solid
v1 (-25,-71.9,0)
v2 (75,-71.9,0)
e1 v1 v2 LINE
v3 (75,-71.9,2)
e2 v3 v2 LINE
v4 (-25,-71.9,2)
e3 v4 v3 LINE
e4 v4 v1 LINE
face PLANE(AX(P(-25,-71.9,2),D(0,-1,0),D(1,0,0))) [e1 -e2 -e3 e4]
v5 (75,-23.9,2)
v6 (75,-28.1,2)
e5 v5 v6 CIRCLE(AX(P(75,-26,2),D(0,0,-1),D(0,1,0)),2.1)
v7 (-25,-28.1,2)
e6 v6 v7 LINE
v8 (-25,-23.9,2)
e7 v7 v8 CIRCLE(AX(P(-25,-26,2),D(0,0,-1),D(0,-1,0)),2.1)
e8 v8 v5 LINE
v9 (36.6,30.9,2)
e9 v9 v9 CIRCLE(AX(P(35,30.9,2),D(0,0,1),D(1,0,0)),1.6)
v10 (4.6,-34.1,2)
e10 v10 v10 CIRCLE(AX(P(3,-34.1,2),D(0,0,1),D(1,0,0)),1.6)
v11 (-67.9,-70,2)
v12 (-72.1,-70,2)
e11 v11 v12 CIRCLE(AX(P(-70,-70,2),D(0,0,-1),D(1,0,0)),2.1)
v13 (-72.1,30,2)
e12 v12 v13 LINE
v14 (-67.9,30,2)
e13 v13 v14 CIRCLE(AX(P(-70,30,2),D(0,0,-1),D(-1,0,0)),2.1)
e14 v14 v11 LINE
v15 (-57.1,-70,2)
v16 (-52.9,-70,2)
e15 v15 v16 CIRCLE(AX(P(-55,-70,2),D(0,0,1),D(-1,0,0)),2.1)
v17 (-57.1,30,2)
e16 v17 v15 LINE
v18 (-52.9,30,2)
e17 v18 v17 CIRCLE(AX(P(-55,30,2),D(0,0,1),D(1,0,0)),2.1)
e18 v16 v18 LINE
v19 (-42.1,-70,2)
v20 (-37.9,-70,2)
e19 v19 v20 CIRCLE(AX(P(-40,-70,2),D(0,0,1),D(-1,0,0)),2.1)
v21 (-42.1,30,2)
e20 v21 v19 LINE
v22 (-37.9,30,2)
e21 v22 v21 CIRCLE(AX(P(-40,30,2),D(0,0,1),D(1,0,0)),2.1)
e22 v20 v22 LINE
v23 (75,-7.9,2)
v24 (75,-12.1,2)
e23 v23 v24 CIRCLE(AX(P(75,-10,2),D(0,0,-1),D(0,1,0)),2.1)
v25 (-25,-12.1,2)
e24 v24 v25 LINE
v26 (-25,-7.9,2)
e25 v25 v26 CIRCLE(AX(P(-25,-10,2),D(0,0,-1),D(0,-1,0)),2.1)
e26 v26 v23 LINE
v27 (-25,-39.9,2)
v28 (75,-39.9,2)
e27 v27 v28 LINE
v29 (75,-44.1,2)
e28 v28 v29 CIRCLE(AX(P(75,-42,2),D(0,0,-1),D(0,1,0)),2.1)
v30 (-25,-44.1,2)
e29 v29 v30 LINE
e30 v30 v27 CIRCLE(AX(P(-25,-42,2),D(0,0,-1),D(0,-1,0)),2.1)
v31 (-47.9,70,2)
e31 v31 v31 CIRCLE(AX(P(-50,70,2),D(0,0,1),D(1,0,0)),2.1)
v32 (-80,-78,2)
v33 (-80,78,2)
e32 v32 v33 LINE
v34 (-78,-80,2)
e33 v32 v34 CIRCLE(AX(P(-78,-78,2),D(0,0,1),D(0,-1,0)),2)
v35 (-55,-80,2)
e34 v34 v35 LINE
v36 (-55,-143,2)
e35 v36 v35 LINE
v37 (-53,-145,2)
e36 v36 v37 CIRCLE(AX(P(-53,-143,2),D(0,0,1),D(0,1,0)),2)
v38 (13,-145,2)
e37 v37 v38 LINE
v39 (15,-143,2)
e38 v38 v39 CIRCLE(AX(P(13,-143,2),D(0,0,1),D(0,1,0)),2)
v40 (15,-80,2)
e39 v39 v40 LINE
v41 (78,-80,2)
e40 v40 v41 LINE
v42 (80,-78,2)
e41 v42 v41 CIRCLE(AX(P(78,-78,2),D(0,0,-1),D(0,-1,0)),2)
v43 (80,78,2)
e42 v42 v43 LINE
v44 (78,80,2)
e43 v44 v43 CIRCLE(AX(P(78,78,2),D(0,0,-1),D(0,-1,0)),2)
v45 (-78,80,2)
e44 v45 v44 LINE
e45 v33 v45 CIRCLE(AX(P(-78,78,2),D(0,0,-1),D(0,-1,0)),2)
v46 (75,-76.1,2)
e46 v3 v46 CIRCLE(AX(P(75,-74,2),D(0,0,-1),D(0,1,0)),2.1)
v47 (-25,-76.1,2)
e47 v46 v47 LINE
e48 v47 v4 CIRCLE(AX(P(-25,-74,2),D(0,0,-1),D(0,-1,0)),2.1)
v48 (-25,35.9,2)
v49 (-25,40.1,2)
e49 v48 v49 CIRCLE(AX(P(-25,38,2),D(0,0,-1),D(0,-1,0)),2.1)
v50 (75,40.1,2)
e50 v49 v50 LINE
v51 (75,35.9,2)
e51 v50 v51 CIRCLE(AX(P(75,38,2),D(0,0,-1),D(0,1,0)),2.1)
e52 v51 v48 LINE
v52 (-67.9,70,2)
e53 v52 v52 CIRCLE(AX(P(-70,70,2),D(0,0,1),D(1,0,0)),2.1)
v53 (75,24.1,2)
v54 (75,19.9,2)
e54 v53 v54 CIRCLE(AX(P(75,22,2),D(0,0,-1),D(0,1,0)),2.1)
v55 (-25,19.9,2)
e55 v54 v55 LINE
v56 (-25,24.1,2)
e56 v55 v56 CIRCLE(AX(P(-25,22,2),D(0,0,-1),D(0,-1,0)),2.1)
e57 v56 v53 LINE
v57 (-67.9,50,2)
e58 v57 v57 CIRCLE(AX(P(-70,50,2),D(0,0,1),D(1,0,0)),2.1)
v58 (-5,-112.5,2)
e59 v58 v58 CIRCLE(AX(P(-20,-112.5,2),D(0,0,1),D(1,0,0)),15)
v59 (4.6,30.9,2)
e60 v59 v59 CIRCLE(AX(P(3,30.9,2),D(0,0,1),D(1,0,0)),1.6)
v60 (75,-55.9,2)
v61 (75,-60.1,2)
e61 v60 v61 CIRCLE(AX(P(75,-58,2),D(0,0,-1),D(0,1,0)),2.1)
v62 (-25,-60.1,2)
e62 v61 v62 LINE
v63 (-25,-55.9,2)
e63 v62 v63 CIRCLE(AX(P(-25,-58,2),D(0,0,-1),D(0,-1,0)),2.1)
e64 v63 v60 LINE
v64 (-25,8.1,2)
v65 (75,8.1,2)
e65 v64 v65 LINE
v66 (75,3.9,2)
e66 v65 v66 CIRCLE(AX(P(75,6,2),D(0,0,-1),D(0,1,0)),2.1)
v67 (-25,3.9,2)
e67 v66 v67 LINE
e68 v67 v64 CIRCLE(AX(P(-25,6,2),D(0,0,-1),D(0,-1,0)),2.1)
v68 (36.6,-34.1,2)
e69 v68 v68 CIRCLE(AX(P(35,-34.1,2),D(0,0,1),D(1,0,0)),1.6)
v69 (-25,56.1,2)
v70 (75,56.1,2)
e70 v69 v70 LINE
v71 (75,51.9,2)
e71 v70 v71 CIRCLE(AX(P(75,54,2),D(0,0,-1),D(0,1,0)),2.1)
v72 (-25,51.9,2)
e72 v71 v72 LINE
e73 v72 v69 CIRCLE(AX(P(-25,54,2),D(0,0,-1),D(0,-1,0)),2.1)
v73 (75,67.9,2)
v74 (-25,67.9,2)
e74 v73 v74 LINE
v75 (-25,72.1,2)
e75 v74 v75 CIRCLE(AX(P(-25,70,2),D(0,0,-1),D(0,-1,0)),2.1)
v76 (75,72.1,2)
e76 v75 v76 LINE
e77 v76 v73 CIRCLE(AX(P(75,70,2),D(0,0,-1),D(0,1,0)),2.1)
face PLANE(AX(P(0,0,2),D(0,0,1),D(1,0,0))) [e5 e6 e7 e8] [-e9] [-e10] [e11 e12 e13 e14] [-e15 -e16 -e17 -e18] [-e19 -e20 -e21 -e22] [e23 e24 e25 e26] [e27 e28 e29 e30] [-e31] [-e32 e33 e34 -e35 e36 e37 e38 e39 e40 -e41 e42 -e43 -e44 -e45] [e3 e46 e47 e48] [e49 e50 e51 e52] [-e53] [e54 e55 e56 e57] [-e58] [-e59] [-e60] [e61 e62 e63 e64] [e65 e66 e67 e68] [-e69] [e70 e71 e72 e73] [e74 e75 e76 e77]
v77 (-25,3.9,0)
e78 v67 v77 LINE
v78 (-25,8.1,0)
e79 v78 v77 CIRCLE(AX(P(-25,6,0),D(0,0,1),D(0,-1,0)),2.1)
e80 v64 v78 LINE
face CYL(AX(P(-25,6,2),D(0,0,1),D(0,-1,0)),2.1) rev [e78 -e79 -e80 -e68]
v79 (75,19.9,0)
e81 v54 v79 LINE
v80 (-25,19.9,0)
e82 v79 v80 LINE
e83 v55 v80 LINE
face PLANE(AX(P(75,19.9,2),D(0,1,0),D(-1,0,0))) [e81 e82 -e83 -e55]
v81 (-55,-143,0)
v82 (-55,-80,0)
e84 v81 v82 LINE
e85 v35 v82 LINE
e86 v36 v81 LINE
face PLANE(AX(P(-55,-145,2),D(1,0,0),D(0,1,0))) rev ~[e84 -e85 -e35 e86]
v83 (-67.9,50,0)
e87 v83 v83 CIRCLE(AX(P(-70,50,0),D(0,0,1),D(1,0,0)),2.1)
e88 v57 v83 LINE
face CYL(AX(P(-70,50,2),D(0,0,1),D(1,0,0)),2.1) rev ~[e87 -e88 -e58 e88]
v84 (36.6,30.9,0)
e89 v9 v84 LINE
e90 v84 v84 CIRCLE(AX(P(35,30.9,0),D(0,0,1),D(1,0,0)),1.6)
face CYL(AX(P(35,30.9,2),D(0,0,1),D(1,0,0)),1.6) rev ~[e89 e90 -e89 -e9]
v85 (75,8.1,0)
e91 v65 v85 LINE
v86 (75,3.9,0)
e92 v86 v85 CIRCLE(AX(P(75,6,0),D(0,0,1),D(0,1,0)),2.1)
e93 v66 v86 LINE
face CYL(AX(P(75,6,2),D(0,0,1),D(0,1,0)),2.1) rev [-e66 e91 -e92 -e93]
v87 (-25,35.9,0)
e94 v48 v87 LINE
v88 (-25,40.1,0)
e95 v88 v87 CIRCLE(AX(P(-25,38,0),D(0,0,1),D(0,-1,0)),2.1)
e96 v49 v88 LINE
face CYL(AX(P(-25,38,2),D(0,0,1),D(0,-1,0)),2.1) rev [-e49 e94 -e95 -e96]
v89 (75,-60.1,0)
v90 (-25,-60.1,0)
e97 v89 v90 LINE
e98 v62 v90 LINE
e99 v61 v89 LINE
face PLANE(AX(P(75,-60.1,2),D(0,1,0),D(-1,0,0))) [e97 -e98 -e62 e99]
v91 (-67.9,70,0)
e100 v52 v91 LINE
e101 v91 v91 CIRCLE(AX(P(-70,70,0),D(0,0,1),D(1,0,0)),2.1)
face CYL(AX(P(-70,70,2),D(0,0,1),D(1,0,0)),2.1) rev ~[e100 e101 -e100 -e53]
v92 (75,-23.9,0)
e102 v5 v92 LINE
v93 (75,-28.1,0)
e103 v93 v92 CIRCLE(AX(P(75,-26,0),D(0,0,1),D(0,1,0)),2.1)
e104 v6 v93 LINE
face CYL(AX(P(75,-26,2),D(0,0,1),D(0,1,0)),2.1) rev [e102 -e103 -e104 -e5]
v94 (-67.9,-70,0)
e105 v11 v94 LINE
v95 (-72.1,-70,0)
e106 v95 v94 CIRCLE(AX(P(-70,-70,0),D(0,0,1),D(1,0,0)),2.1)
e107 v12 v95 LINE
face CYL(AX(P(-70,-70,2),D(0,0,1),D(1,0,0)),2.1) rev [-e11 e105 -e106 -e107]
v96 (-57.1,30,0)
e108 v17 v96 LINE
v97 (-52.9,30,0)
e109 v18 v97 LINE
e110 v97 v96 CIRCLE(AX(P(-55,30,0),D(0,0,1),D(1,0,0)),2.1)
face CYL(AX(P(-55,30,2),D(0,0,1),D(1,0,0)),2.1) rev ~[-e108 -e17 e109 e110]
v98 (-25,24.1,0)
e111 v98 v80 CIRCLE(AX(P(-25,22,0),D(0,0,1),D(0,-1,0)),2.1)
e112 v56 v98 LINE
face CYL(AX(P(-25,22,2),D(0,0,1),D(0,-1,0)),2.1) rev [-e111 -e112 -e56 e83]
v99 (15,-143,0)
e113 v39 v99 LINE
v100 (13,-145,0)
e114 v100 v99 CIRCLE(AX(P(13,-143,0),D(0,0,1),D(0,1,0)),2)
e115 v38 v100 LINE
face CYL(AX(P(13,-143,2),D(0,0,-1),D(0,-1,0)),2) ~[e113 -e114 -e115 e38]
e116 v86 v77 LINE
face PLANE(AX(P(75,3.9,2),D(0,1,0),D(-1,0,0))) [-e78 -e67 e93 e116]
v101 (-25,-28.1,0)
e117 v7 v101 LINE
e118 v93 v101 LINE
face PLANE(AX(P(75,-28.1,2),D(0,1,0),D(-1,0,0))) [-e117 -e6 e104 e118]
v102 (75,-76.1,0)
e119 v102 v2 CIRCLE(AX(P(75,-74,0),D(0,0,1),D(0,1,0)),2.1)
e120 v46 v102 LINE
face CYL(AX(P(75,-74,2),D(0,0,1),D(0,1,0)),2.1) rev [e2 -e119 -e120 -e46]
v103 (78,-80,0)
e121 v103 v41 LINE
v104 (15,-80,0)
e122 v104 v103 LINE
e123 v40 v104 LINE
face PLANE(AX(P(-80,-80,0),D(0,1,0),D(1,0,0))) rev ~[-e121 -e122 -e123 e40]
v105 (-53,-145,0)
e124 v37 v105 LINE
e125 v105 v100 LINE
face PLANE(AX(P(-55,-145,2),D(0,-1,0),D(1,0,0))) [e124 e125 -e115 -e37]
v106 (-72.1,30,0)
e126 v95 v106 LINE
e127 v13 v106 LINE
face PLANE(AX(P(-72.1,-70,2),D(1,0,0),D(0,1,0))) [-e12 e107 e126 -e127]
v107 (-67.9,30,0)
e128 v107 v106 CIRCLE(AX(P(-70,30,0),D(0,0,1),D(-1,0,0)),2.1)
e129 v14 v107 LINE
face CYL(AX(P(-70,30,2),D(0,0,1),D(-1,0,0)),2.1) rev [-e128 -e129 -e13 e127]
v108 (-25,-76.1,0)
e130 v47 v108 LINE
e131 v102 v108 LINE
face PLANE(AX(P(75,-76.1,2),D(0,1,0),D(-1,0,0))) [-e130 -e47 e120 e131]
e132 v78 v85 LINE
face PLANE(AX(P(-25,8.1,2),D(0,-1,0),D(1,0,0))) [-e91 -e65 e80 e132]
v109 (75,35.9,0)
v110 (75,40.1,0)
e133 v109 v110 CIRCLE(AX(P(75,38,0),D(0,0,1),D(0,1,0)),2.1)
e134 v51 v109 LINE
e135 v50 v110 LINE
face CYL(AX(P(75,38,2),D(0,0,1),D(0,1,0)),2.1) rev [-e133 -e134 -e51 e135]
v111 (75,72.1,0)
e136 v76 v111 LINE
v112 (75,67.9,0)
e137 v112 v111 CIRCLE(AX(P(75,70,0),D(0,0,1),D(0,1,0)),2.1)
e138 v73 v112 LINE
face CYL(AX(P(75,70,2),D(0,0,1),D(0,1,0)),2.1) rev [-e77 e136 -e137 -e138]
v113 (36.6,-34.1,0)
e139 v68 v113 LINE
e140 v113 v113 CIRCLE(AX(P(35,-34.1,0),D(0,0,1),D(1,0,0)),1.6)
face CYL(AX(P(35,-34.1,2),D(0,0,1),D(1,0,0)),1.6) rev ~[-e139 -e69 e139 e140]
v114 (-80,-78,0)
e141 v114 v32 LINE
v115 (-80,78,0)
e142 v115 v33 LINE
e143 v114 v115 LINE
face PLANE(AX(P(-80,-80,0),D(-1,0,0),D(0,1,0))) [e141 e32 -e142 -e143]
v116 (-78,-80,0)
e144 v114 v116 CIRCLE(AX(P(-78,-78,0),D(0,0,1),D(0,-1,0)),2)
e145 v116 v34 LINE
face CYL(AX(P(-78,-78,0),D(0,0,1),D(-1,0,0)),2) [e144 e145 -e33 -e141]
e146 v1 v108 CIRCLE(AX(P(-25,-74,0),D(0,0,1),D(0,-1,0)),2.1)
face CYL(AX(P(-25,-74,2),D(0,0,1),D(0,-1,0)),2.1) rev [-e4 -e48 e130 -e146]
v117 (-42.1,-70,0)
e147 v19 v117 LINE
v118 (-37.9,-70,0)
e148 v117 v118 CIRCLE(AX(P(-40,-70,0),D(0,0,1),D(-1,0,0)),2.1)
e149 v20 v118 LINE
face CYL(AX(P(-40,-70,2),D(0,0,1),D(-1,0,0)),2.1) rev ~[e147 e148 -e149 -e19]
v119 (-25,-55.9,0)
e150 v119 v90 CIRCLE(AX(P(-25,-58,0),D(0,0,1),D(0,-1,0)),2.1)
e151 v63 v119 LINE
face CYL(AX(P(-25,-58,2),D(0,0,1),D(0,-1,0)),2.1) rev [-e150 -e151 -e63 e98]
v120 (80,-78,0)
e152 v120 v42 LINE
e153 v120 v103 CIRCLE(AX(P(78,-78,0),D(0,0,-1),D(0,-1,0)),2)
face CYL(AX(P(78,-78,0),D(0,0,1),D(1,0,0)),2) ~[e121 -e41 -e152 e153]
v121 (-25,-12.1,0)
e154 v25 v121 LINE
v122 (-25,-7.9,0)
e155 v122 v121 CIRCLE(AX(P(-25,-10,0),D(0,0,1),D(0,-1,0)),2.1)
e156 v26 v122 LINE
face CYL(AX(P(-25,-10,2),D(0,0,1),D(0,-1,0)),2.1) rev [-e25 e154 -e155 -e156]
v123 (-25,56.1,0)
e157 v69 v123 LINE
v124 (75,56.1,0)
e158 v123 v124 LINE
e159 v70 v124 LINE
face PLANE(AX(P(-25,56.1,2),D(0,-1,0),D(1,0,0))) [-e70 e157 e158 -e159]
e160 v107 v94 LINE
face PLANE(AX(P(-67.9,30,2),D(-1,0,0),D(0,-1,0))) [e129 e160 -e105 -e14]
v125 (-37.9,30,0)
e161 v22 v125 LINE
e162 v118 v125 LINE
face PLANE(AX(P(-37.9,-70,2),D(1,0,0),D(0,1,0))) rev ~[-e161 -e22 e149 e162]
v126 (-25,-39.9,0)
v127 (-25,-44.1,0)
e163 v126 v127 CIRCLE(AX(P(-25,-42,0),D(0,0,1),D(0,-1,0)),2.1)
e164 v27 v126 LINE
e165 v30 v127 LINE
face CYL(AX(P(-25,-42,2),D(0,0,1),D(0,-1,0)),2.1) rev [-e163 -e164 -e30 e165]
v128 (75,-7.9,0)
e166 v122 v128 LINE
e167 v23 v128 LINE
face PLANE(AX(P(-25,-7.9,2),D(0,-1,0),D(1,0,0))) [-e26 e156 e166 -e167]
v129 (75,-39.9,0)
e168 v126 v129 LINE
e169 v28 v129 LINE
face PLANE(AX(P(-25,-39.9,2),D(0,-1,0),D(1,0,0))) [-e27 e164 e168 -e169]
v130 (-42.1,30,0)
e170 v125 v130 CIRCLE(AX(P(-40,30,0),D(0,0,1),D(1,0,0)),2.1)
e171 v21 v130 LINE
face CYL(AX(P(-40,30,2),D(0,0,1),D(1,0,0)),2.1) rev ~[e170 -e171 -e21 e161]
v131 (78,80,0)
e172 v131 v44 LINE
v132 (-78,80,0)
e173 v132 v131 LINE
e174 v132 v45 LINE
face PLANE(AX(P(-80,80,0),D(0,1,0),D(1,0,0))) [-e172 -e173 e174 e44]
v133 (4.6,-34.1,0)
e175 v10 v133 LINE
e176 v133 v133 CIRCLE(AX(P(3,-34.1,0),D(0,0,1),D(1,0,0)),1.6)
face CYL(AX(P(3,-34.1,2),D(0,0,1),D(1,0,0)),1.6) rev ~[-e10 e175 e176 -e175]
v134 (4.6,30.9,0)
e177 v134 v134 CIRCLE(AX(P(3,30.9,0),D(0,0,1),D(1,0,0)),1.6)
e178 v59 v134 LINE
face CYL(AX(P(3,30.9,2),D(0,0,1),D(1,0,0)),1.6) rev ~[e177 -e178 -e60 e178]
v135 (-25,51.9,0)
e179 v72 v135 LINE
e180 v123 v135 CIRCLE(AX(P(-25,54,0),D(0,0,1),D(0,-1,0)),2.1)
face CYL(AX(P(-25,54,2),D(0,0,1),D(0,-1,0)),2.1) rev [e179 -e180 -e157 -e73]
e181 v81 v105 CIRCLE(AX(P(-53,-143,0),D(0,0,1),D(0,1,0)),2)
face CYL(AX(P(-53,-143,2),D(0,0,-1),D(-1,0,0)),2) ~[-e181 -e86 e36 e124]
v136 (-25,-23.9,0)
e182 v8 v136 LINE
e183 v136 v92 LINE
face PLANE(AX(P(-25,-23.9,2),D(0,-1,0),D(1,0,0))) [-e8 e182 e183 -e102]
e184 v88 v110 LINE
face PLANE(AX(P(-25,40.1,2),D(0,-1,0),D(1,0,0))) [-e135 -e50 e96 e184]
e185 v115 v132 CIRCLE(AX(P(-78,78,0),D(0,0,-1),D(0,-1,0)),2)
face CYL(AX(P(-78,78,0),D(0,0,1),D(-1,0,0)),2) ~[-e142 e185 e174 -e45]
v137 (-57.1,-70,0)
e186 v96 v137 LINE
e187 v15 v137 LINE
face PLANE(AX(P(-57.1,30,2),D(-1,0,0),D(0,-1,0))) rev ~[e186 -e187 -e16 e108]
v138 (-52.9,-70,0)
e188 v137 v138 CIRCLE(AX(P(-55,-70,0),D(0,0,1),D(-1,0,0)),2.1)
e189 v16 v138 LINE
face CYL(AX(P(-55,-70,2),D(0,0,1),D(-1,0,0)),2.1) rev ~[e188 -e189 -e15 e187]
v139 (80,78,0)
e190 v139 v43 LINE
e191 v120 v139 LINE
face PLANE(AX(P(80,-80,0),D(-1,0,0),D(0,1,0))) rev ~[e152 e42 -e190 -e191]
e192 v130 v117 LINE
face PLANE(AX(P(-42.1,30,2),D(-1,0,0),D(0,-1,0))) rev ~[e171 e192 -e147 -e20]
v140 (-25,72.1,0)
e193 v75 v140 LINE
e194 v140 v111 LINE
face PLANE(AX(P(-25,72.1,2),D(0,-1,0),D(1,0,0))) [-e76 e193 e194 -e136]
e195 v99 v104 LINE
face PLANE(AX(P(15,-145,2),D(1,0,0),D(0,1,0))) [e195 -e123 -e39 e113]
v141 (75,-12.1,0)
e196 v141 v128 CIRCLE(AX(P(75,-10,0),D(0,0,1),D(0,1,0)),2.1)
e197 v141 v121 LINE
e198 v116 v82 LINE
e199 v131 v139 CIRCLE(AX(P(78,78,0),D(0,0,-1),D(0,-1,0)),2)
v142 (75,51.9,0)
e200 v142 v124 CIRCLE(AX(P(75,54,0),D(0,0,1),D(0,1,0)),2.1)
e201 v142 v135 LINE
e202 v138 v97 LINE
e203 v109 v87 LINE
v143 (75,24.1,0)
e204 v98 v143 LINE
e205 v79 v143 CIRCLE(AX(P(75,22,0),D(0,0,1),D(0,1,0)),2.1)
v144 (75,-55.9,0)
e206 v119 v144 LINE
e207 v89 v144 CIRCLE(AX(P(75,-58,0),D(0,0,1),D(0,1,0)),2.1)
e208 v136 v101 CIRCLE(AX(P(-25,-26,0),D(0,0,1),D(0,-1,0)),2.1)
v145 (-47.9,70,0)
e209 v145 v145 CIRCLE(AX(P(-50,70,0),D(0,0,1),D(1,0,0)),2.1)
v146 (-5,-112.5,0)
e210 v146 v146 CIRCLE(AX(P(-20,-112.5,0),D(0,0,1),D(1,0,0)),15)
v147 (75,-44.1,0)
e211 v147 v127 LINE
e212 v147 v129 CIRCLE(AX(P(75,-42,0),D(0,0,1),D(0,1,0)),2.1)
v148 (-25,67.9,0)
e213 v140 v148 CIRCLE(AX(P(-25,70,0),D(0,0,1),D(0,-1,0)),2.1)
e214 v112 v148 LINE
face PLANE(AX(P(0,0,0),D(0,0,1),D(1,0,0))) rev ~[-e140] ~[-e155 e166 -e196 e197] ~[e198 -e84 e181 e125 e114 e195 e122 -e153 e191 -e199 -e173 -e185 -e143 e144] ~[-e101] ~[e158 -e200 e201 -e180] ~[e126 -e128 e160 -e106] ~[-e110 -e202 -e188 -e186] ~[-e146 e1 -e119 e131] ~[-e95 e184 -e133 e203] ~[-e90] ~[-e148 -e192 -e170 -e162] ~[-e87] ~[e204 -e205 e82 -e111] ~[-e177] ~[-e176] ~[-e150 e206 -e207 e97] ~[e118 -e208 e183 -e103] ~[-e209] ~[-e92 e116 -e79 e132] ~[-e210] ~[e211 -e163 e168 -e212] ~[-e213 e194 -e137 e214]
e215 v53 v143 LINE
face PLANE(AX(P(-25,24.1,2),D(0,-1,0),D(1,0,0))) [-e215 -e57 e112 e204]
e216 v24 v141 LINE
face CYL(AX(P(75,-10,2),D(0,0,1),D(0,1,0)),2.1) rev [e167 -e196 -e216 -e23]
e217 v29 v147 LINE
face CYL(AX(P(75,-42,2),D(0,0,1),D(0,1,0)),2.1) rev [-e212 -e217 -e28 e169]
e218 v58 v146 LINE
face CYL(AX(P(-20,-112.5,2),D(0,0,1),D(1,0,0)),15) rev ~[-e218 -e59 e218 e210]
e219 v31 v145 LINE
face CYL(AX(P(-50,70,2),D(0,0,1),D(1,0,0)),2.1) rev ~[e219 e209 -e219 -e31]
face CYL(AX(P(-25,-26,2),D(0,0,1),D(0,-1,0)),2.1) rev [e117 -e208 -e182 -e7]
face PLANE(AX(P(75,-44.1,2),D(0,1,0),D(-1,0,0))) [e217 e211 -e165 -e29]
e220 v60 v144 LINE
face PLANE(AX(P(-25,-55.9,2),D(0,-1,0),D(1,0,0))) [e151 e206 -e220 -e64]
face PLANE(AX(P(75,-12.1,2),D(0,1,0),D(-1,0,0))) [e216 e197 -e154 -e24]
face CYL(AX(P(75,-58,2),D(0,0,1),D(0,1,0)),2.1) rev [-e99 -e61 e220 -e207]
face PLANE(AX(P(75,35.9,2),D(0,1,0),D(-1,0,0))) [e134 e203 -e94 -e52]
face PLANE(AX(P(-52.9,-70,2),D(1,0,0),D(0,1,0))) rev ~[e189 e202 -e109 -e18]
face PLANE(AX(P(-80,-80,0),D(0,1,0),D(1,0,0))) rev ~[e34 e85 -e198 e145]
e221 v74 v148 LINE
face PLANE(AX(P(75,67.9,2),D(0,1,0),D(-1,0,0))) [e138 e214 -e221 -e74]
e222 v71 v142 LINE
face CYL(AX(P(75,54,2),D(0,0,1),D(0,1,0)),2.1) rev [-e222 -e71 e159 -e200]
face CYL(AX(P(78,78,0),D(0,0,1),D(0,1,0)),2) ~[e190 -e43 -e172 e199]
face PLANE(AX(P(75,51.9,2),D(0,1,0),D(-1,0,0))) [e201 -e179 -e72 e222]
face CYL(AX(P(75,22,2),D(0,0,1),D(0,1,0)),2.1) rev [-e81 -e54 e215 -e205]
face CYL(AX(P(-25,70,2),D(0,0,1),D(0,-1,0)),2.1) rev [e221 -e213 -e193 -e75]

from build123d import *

# Parameters (mm, degrees)
SKETCH_1_W          = 160
SKETCH_1_H          = 160
EXTRUDE_1_DEPTH     = 2
SKETCH_2_W          = 70
SKETCH_2_H          = 65
EXTRUDE_2_DEPTH     = 2
SKETCH_3_R          = 2.1
CUT_EXTRUDE_1_DEPTH = 166.61702811
SKETCH_4_R          = 15
CUT_EXTRUDE_2_DEPTH = 10
FILLET_1_R          = 2
SKETCH_5_R          = 1.6
CUT_EXTRUDE_3_DEPTH = 10


with BuildPart() as part:
    # 草图1 → 凸台-拉伸1 (new body)
    with BuildSketch(Plane.XY):
        Rectangle(SKETCH_1_W, SKETCH_1_H)
    extrude(amount=EXTRUDE_1_DEPTH)

    # 草图2 → 凸台-拉伸2 (add, through all)
    with BuildSketch(Plane.XY.offset(2)):
        with Locations((-20, -112.5)):
            Rectangle(SKETCH_2_W, SKETCH_2_H)
    extrude(amount=-EXTRUDE_2_DEPTH)

    # 草图3 → 切除-拉伸1 (cut, through all)
    with BuildSketch(Plane.XY.offset(2)):
        with Locations((-70, 70)):
            Circle(SKETCH_3_R)
        with Locations((-50, 70)):
            Circle(SKETCH_3_R)
        with Locations((-70, 50)):
            Circle(SKETCH_3_R)
    extrude(amount=-CUT_EXTRUDE_1_DEPTH, mode=Mode.SUBTRACT)

    # 草图4 → 切除-拉伸2 (cut)
    with BuildSketch(Plane.XY.offset(2)):
        with Locations((-20, -112.5)):
            Circle(SKETCH_4_R)
        with BuildLine():
            Line((-25, 72.1), (75, 72.1))
            ThreePointArc((75, 72.1), (77.1, 70), (75, 67.9))
            Line((75, 67.9), (-25, 67.9))
            ThreePointArc((-25, 67.9), (-27.1, 70), (-25, 72.1))
        make_face()
        with BuildLine():
            Line((-67.9, 30), (-67.9, -70))
            ThreePointArc((-67.9, -70), (-70, -72.1), (-72.1, -70))
            Line((-72.1, -70), (-72.1, 30))
            ThreePointArc((-72.1, 30), (-70, 32.1), (-67.9, 30))
        make_face()
        with BuildLine():
            Line((-25, 56.1), (75, 56.1))
            ThreePointArc((75, 56.1), (77.1, 54), (75, 51.9))
            Line((75, 51.9), (-25, 51.9))
            ThreePointArc((-25, 51.9), (-27.1, 54), (-25, 56.1))
        make_face()
        with BuildLine():
            Line((-25, 40.1), (75, 40.1))
            ThreePointArc((75, 40.1), (77.1, 38), (75, 35.9))
            Line((75, 35.9), (-25, 35.9))
            ThreePointArc((-25, 35.9), (-27.1, 38), (-25, 40.1))
        make_face()
        with BuildLine():
            Line((-25, 24.1), (75, 24.1))
            ThreePointArc((75, 24.1), (77.1, 22), (75, 19.9))
            Line((75, 19.9), (-25, 19.9))
            ThreePointArc((-25, 19.9), (-27.1, 22), (-25, 24.1))
        make_face()
        with BuildLine():
            Line((-25, 8.1), (75, 8.1))
            ThreePointArc((75, 8.1), (77.1, 6), (75, 3.9))
            Line((75, 3.9), (-25, 3.9))
            ThreePointArc((-25, 3.9), (-27.1, 6), (-25, 8.1))
        make_face()
        with BuildLine():
            Line((-25, -7.9), (75, -7.9))
            ThreePointArc((75, -7.9), (77.1, -10), (75, -12.1))
            Line((75, -12.1), (-25, -12.1))
            ThreePointArc((-25, -12.1), (-27.1, -10), (-25, -7.9))
        make_face()
        with BuildLine():
            Line((-25, -23.9), (75, -23.9))
            ThreePointArc((75, -23.9), (77.1, -26), (75, -28.1))
            Line((75, -28.1), (-25, -28.1))
            ThreePointArc((-25, -28.1), (-27.1, -26), (-25, -23.9))
        make_face()
        with BuildLine():
            Line((-25, -39.9), (75, -39.9))
            ThreePointArc((75, -39.9), (77.1, -42), (75, -44.1))
            Line((75, -44.1), (-25, -44.1))
            ThreePointArc((-25, -44.1), (-27.1, -42), (-25, -39.9))
        make_face()
        with BuildLine():
            Line((-25, -55.9), (75, -55.9))
            ThreePointArc((75, -55.9), (77.1, -58), (75, -60.1))
            Line((75, -60.1), (-25, -60.1))
            ThreePointArc((-25, -60.1), (-27.1, -58), (-25, -55.9))
        make_face()
        with BuildLine():
            Line((-25, -71.9), (75, -71.9))
            ThreePointArc((75, -71.9), (77.1, -74), (75, -76.1))
            Line((75, -76.1), (-25, -76.1))
            ThreePointArc((-25, -76.1), (-27.1, -74), (-25, -71.9))
        make_face()
        with BuildLine():
            Line((-57.1, 30), (-57.1, -70))
            ThreePointArc((-57.1, -70), (-55, -72.1), (-52.9, -70))
            Line((-52.9, -70), (-52.9, 30))
            ThreePointArc((-52.9, 30), (-55, 32.1), (-57.1, 30))
        make_face()
        with BuildLine():
            Line((-42.1, 30), (-42.1, -70))
            ThreePointArc((-42.1, -70), (-40, -72.1), (-37.9, -70))
            Line((-37.9, -70), (-37.9, 30))
            ThreePointArc((-37.9, 30), (-40, 32.1), (-42.1, 30))
        make_face()
    extrude(amount=-CUT_EXTRUDE_2_DEPTH, mode=Mode.SUBTRACT)

    # 圆角1
    fillet_1_edges = [part.edges().sort_by_distance(p)[0] for p in [
        (15, -145, 1),
        (-55, -145, 1),
        (80, -80, 1),
        (-80, -80, 1),
        (-80, 80, 1),
        (80, 80, 1),
    ]]
    fillet(fillet_1_edges, radius=FILLET_1_R)

    # 草图5 → 切除-拉伸3 (cut)
    with BuildSketch(Plane.XY.offset(2)):
        with Locations((35, 30.9)):
            Circle(SKETCH_5_R)
        with Locations((3, 30.9)):
            Circle(SKETCH_5_R)
        with Locations((3, -34.1)):
            Circle(SKETCH_5_R)
        with Locations((35, -34.1)):
            Circle(SKETCH_5_R)
    extrude(amount=-CUT_EXTRUDE_3_DEPTH, mode=Mode.SUBTRACT)


solid = part.part
